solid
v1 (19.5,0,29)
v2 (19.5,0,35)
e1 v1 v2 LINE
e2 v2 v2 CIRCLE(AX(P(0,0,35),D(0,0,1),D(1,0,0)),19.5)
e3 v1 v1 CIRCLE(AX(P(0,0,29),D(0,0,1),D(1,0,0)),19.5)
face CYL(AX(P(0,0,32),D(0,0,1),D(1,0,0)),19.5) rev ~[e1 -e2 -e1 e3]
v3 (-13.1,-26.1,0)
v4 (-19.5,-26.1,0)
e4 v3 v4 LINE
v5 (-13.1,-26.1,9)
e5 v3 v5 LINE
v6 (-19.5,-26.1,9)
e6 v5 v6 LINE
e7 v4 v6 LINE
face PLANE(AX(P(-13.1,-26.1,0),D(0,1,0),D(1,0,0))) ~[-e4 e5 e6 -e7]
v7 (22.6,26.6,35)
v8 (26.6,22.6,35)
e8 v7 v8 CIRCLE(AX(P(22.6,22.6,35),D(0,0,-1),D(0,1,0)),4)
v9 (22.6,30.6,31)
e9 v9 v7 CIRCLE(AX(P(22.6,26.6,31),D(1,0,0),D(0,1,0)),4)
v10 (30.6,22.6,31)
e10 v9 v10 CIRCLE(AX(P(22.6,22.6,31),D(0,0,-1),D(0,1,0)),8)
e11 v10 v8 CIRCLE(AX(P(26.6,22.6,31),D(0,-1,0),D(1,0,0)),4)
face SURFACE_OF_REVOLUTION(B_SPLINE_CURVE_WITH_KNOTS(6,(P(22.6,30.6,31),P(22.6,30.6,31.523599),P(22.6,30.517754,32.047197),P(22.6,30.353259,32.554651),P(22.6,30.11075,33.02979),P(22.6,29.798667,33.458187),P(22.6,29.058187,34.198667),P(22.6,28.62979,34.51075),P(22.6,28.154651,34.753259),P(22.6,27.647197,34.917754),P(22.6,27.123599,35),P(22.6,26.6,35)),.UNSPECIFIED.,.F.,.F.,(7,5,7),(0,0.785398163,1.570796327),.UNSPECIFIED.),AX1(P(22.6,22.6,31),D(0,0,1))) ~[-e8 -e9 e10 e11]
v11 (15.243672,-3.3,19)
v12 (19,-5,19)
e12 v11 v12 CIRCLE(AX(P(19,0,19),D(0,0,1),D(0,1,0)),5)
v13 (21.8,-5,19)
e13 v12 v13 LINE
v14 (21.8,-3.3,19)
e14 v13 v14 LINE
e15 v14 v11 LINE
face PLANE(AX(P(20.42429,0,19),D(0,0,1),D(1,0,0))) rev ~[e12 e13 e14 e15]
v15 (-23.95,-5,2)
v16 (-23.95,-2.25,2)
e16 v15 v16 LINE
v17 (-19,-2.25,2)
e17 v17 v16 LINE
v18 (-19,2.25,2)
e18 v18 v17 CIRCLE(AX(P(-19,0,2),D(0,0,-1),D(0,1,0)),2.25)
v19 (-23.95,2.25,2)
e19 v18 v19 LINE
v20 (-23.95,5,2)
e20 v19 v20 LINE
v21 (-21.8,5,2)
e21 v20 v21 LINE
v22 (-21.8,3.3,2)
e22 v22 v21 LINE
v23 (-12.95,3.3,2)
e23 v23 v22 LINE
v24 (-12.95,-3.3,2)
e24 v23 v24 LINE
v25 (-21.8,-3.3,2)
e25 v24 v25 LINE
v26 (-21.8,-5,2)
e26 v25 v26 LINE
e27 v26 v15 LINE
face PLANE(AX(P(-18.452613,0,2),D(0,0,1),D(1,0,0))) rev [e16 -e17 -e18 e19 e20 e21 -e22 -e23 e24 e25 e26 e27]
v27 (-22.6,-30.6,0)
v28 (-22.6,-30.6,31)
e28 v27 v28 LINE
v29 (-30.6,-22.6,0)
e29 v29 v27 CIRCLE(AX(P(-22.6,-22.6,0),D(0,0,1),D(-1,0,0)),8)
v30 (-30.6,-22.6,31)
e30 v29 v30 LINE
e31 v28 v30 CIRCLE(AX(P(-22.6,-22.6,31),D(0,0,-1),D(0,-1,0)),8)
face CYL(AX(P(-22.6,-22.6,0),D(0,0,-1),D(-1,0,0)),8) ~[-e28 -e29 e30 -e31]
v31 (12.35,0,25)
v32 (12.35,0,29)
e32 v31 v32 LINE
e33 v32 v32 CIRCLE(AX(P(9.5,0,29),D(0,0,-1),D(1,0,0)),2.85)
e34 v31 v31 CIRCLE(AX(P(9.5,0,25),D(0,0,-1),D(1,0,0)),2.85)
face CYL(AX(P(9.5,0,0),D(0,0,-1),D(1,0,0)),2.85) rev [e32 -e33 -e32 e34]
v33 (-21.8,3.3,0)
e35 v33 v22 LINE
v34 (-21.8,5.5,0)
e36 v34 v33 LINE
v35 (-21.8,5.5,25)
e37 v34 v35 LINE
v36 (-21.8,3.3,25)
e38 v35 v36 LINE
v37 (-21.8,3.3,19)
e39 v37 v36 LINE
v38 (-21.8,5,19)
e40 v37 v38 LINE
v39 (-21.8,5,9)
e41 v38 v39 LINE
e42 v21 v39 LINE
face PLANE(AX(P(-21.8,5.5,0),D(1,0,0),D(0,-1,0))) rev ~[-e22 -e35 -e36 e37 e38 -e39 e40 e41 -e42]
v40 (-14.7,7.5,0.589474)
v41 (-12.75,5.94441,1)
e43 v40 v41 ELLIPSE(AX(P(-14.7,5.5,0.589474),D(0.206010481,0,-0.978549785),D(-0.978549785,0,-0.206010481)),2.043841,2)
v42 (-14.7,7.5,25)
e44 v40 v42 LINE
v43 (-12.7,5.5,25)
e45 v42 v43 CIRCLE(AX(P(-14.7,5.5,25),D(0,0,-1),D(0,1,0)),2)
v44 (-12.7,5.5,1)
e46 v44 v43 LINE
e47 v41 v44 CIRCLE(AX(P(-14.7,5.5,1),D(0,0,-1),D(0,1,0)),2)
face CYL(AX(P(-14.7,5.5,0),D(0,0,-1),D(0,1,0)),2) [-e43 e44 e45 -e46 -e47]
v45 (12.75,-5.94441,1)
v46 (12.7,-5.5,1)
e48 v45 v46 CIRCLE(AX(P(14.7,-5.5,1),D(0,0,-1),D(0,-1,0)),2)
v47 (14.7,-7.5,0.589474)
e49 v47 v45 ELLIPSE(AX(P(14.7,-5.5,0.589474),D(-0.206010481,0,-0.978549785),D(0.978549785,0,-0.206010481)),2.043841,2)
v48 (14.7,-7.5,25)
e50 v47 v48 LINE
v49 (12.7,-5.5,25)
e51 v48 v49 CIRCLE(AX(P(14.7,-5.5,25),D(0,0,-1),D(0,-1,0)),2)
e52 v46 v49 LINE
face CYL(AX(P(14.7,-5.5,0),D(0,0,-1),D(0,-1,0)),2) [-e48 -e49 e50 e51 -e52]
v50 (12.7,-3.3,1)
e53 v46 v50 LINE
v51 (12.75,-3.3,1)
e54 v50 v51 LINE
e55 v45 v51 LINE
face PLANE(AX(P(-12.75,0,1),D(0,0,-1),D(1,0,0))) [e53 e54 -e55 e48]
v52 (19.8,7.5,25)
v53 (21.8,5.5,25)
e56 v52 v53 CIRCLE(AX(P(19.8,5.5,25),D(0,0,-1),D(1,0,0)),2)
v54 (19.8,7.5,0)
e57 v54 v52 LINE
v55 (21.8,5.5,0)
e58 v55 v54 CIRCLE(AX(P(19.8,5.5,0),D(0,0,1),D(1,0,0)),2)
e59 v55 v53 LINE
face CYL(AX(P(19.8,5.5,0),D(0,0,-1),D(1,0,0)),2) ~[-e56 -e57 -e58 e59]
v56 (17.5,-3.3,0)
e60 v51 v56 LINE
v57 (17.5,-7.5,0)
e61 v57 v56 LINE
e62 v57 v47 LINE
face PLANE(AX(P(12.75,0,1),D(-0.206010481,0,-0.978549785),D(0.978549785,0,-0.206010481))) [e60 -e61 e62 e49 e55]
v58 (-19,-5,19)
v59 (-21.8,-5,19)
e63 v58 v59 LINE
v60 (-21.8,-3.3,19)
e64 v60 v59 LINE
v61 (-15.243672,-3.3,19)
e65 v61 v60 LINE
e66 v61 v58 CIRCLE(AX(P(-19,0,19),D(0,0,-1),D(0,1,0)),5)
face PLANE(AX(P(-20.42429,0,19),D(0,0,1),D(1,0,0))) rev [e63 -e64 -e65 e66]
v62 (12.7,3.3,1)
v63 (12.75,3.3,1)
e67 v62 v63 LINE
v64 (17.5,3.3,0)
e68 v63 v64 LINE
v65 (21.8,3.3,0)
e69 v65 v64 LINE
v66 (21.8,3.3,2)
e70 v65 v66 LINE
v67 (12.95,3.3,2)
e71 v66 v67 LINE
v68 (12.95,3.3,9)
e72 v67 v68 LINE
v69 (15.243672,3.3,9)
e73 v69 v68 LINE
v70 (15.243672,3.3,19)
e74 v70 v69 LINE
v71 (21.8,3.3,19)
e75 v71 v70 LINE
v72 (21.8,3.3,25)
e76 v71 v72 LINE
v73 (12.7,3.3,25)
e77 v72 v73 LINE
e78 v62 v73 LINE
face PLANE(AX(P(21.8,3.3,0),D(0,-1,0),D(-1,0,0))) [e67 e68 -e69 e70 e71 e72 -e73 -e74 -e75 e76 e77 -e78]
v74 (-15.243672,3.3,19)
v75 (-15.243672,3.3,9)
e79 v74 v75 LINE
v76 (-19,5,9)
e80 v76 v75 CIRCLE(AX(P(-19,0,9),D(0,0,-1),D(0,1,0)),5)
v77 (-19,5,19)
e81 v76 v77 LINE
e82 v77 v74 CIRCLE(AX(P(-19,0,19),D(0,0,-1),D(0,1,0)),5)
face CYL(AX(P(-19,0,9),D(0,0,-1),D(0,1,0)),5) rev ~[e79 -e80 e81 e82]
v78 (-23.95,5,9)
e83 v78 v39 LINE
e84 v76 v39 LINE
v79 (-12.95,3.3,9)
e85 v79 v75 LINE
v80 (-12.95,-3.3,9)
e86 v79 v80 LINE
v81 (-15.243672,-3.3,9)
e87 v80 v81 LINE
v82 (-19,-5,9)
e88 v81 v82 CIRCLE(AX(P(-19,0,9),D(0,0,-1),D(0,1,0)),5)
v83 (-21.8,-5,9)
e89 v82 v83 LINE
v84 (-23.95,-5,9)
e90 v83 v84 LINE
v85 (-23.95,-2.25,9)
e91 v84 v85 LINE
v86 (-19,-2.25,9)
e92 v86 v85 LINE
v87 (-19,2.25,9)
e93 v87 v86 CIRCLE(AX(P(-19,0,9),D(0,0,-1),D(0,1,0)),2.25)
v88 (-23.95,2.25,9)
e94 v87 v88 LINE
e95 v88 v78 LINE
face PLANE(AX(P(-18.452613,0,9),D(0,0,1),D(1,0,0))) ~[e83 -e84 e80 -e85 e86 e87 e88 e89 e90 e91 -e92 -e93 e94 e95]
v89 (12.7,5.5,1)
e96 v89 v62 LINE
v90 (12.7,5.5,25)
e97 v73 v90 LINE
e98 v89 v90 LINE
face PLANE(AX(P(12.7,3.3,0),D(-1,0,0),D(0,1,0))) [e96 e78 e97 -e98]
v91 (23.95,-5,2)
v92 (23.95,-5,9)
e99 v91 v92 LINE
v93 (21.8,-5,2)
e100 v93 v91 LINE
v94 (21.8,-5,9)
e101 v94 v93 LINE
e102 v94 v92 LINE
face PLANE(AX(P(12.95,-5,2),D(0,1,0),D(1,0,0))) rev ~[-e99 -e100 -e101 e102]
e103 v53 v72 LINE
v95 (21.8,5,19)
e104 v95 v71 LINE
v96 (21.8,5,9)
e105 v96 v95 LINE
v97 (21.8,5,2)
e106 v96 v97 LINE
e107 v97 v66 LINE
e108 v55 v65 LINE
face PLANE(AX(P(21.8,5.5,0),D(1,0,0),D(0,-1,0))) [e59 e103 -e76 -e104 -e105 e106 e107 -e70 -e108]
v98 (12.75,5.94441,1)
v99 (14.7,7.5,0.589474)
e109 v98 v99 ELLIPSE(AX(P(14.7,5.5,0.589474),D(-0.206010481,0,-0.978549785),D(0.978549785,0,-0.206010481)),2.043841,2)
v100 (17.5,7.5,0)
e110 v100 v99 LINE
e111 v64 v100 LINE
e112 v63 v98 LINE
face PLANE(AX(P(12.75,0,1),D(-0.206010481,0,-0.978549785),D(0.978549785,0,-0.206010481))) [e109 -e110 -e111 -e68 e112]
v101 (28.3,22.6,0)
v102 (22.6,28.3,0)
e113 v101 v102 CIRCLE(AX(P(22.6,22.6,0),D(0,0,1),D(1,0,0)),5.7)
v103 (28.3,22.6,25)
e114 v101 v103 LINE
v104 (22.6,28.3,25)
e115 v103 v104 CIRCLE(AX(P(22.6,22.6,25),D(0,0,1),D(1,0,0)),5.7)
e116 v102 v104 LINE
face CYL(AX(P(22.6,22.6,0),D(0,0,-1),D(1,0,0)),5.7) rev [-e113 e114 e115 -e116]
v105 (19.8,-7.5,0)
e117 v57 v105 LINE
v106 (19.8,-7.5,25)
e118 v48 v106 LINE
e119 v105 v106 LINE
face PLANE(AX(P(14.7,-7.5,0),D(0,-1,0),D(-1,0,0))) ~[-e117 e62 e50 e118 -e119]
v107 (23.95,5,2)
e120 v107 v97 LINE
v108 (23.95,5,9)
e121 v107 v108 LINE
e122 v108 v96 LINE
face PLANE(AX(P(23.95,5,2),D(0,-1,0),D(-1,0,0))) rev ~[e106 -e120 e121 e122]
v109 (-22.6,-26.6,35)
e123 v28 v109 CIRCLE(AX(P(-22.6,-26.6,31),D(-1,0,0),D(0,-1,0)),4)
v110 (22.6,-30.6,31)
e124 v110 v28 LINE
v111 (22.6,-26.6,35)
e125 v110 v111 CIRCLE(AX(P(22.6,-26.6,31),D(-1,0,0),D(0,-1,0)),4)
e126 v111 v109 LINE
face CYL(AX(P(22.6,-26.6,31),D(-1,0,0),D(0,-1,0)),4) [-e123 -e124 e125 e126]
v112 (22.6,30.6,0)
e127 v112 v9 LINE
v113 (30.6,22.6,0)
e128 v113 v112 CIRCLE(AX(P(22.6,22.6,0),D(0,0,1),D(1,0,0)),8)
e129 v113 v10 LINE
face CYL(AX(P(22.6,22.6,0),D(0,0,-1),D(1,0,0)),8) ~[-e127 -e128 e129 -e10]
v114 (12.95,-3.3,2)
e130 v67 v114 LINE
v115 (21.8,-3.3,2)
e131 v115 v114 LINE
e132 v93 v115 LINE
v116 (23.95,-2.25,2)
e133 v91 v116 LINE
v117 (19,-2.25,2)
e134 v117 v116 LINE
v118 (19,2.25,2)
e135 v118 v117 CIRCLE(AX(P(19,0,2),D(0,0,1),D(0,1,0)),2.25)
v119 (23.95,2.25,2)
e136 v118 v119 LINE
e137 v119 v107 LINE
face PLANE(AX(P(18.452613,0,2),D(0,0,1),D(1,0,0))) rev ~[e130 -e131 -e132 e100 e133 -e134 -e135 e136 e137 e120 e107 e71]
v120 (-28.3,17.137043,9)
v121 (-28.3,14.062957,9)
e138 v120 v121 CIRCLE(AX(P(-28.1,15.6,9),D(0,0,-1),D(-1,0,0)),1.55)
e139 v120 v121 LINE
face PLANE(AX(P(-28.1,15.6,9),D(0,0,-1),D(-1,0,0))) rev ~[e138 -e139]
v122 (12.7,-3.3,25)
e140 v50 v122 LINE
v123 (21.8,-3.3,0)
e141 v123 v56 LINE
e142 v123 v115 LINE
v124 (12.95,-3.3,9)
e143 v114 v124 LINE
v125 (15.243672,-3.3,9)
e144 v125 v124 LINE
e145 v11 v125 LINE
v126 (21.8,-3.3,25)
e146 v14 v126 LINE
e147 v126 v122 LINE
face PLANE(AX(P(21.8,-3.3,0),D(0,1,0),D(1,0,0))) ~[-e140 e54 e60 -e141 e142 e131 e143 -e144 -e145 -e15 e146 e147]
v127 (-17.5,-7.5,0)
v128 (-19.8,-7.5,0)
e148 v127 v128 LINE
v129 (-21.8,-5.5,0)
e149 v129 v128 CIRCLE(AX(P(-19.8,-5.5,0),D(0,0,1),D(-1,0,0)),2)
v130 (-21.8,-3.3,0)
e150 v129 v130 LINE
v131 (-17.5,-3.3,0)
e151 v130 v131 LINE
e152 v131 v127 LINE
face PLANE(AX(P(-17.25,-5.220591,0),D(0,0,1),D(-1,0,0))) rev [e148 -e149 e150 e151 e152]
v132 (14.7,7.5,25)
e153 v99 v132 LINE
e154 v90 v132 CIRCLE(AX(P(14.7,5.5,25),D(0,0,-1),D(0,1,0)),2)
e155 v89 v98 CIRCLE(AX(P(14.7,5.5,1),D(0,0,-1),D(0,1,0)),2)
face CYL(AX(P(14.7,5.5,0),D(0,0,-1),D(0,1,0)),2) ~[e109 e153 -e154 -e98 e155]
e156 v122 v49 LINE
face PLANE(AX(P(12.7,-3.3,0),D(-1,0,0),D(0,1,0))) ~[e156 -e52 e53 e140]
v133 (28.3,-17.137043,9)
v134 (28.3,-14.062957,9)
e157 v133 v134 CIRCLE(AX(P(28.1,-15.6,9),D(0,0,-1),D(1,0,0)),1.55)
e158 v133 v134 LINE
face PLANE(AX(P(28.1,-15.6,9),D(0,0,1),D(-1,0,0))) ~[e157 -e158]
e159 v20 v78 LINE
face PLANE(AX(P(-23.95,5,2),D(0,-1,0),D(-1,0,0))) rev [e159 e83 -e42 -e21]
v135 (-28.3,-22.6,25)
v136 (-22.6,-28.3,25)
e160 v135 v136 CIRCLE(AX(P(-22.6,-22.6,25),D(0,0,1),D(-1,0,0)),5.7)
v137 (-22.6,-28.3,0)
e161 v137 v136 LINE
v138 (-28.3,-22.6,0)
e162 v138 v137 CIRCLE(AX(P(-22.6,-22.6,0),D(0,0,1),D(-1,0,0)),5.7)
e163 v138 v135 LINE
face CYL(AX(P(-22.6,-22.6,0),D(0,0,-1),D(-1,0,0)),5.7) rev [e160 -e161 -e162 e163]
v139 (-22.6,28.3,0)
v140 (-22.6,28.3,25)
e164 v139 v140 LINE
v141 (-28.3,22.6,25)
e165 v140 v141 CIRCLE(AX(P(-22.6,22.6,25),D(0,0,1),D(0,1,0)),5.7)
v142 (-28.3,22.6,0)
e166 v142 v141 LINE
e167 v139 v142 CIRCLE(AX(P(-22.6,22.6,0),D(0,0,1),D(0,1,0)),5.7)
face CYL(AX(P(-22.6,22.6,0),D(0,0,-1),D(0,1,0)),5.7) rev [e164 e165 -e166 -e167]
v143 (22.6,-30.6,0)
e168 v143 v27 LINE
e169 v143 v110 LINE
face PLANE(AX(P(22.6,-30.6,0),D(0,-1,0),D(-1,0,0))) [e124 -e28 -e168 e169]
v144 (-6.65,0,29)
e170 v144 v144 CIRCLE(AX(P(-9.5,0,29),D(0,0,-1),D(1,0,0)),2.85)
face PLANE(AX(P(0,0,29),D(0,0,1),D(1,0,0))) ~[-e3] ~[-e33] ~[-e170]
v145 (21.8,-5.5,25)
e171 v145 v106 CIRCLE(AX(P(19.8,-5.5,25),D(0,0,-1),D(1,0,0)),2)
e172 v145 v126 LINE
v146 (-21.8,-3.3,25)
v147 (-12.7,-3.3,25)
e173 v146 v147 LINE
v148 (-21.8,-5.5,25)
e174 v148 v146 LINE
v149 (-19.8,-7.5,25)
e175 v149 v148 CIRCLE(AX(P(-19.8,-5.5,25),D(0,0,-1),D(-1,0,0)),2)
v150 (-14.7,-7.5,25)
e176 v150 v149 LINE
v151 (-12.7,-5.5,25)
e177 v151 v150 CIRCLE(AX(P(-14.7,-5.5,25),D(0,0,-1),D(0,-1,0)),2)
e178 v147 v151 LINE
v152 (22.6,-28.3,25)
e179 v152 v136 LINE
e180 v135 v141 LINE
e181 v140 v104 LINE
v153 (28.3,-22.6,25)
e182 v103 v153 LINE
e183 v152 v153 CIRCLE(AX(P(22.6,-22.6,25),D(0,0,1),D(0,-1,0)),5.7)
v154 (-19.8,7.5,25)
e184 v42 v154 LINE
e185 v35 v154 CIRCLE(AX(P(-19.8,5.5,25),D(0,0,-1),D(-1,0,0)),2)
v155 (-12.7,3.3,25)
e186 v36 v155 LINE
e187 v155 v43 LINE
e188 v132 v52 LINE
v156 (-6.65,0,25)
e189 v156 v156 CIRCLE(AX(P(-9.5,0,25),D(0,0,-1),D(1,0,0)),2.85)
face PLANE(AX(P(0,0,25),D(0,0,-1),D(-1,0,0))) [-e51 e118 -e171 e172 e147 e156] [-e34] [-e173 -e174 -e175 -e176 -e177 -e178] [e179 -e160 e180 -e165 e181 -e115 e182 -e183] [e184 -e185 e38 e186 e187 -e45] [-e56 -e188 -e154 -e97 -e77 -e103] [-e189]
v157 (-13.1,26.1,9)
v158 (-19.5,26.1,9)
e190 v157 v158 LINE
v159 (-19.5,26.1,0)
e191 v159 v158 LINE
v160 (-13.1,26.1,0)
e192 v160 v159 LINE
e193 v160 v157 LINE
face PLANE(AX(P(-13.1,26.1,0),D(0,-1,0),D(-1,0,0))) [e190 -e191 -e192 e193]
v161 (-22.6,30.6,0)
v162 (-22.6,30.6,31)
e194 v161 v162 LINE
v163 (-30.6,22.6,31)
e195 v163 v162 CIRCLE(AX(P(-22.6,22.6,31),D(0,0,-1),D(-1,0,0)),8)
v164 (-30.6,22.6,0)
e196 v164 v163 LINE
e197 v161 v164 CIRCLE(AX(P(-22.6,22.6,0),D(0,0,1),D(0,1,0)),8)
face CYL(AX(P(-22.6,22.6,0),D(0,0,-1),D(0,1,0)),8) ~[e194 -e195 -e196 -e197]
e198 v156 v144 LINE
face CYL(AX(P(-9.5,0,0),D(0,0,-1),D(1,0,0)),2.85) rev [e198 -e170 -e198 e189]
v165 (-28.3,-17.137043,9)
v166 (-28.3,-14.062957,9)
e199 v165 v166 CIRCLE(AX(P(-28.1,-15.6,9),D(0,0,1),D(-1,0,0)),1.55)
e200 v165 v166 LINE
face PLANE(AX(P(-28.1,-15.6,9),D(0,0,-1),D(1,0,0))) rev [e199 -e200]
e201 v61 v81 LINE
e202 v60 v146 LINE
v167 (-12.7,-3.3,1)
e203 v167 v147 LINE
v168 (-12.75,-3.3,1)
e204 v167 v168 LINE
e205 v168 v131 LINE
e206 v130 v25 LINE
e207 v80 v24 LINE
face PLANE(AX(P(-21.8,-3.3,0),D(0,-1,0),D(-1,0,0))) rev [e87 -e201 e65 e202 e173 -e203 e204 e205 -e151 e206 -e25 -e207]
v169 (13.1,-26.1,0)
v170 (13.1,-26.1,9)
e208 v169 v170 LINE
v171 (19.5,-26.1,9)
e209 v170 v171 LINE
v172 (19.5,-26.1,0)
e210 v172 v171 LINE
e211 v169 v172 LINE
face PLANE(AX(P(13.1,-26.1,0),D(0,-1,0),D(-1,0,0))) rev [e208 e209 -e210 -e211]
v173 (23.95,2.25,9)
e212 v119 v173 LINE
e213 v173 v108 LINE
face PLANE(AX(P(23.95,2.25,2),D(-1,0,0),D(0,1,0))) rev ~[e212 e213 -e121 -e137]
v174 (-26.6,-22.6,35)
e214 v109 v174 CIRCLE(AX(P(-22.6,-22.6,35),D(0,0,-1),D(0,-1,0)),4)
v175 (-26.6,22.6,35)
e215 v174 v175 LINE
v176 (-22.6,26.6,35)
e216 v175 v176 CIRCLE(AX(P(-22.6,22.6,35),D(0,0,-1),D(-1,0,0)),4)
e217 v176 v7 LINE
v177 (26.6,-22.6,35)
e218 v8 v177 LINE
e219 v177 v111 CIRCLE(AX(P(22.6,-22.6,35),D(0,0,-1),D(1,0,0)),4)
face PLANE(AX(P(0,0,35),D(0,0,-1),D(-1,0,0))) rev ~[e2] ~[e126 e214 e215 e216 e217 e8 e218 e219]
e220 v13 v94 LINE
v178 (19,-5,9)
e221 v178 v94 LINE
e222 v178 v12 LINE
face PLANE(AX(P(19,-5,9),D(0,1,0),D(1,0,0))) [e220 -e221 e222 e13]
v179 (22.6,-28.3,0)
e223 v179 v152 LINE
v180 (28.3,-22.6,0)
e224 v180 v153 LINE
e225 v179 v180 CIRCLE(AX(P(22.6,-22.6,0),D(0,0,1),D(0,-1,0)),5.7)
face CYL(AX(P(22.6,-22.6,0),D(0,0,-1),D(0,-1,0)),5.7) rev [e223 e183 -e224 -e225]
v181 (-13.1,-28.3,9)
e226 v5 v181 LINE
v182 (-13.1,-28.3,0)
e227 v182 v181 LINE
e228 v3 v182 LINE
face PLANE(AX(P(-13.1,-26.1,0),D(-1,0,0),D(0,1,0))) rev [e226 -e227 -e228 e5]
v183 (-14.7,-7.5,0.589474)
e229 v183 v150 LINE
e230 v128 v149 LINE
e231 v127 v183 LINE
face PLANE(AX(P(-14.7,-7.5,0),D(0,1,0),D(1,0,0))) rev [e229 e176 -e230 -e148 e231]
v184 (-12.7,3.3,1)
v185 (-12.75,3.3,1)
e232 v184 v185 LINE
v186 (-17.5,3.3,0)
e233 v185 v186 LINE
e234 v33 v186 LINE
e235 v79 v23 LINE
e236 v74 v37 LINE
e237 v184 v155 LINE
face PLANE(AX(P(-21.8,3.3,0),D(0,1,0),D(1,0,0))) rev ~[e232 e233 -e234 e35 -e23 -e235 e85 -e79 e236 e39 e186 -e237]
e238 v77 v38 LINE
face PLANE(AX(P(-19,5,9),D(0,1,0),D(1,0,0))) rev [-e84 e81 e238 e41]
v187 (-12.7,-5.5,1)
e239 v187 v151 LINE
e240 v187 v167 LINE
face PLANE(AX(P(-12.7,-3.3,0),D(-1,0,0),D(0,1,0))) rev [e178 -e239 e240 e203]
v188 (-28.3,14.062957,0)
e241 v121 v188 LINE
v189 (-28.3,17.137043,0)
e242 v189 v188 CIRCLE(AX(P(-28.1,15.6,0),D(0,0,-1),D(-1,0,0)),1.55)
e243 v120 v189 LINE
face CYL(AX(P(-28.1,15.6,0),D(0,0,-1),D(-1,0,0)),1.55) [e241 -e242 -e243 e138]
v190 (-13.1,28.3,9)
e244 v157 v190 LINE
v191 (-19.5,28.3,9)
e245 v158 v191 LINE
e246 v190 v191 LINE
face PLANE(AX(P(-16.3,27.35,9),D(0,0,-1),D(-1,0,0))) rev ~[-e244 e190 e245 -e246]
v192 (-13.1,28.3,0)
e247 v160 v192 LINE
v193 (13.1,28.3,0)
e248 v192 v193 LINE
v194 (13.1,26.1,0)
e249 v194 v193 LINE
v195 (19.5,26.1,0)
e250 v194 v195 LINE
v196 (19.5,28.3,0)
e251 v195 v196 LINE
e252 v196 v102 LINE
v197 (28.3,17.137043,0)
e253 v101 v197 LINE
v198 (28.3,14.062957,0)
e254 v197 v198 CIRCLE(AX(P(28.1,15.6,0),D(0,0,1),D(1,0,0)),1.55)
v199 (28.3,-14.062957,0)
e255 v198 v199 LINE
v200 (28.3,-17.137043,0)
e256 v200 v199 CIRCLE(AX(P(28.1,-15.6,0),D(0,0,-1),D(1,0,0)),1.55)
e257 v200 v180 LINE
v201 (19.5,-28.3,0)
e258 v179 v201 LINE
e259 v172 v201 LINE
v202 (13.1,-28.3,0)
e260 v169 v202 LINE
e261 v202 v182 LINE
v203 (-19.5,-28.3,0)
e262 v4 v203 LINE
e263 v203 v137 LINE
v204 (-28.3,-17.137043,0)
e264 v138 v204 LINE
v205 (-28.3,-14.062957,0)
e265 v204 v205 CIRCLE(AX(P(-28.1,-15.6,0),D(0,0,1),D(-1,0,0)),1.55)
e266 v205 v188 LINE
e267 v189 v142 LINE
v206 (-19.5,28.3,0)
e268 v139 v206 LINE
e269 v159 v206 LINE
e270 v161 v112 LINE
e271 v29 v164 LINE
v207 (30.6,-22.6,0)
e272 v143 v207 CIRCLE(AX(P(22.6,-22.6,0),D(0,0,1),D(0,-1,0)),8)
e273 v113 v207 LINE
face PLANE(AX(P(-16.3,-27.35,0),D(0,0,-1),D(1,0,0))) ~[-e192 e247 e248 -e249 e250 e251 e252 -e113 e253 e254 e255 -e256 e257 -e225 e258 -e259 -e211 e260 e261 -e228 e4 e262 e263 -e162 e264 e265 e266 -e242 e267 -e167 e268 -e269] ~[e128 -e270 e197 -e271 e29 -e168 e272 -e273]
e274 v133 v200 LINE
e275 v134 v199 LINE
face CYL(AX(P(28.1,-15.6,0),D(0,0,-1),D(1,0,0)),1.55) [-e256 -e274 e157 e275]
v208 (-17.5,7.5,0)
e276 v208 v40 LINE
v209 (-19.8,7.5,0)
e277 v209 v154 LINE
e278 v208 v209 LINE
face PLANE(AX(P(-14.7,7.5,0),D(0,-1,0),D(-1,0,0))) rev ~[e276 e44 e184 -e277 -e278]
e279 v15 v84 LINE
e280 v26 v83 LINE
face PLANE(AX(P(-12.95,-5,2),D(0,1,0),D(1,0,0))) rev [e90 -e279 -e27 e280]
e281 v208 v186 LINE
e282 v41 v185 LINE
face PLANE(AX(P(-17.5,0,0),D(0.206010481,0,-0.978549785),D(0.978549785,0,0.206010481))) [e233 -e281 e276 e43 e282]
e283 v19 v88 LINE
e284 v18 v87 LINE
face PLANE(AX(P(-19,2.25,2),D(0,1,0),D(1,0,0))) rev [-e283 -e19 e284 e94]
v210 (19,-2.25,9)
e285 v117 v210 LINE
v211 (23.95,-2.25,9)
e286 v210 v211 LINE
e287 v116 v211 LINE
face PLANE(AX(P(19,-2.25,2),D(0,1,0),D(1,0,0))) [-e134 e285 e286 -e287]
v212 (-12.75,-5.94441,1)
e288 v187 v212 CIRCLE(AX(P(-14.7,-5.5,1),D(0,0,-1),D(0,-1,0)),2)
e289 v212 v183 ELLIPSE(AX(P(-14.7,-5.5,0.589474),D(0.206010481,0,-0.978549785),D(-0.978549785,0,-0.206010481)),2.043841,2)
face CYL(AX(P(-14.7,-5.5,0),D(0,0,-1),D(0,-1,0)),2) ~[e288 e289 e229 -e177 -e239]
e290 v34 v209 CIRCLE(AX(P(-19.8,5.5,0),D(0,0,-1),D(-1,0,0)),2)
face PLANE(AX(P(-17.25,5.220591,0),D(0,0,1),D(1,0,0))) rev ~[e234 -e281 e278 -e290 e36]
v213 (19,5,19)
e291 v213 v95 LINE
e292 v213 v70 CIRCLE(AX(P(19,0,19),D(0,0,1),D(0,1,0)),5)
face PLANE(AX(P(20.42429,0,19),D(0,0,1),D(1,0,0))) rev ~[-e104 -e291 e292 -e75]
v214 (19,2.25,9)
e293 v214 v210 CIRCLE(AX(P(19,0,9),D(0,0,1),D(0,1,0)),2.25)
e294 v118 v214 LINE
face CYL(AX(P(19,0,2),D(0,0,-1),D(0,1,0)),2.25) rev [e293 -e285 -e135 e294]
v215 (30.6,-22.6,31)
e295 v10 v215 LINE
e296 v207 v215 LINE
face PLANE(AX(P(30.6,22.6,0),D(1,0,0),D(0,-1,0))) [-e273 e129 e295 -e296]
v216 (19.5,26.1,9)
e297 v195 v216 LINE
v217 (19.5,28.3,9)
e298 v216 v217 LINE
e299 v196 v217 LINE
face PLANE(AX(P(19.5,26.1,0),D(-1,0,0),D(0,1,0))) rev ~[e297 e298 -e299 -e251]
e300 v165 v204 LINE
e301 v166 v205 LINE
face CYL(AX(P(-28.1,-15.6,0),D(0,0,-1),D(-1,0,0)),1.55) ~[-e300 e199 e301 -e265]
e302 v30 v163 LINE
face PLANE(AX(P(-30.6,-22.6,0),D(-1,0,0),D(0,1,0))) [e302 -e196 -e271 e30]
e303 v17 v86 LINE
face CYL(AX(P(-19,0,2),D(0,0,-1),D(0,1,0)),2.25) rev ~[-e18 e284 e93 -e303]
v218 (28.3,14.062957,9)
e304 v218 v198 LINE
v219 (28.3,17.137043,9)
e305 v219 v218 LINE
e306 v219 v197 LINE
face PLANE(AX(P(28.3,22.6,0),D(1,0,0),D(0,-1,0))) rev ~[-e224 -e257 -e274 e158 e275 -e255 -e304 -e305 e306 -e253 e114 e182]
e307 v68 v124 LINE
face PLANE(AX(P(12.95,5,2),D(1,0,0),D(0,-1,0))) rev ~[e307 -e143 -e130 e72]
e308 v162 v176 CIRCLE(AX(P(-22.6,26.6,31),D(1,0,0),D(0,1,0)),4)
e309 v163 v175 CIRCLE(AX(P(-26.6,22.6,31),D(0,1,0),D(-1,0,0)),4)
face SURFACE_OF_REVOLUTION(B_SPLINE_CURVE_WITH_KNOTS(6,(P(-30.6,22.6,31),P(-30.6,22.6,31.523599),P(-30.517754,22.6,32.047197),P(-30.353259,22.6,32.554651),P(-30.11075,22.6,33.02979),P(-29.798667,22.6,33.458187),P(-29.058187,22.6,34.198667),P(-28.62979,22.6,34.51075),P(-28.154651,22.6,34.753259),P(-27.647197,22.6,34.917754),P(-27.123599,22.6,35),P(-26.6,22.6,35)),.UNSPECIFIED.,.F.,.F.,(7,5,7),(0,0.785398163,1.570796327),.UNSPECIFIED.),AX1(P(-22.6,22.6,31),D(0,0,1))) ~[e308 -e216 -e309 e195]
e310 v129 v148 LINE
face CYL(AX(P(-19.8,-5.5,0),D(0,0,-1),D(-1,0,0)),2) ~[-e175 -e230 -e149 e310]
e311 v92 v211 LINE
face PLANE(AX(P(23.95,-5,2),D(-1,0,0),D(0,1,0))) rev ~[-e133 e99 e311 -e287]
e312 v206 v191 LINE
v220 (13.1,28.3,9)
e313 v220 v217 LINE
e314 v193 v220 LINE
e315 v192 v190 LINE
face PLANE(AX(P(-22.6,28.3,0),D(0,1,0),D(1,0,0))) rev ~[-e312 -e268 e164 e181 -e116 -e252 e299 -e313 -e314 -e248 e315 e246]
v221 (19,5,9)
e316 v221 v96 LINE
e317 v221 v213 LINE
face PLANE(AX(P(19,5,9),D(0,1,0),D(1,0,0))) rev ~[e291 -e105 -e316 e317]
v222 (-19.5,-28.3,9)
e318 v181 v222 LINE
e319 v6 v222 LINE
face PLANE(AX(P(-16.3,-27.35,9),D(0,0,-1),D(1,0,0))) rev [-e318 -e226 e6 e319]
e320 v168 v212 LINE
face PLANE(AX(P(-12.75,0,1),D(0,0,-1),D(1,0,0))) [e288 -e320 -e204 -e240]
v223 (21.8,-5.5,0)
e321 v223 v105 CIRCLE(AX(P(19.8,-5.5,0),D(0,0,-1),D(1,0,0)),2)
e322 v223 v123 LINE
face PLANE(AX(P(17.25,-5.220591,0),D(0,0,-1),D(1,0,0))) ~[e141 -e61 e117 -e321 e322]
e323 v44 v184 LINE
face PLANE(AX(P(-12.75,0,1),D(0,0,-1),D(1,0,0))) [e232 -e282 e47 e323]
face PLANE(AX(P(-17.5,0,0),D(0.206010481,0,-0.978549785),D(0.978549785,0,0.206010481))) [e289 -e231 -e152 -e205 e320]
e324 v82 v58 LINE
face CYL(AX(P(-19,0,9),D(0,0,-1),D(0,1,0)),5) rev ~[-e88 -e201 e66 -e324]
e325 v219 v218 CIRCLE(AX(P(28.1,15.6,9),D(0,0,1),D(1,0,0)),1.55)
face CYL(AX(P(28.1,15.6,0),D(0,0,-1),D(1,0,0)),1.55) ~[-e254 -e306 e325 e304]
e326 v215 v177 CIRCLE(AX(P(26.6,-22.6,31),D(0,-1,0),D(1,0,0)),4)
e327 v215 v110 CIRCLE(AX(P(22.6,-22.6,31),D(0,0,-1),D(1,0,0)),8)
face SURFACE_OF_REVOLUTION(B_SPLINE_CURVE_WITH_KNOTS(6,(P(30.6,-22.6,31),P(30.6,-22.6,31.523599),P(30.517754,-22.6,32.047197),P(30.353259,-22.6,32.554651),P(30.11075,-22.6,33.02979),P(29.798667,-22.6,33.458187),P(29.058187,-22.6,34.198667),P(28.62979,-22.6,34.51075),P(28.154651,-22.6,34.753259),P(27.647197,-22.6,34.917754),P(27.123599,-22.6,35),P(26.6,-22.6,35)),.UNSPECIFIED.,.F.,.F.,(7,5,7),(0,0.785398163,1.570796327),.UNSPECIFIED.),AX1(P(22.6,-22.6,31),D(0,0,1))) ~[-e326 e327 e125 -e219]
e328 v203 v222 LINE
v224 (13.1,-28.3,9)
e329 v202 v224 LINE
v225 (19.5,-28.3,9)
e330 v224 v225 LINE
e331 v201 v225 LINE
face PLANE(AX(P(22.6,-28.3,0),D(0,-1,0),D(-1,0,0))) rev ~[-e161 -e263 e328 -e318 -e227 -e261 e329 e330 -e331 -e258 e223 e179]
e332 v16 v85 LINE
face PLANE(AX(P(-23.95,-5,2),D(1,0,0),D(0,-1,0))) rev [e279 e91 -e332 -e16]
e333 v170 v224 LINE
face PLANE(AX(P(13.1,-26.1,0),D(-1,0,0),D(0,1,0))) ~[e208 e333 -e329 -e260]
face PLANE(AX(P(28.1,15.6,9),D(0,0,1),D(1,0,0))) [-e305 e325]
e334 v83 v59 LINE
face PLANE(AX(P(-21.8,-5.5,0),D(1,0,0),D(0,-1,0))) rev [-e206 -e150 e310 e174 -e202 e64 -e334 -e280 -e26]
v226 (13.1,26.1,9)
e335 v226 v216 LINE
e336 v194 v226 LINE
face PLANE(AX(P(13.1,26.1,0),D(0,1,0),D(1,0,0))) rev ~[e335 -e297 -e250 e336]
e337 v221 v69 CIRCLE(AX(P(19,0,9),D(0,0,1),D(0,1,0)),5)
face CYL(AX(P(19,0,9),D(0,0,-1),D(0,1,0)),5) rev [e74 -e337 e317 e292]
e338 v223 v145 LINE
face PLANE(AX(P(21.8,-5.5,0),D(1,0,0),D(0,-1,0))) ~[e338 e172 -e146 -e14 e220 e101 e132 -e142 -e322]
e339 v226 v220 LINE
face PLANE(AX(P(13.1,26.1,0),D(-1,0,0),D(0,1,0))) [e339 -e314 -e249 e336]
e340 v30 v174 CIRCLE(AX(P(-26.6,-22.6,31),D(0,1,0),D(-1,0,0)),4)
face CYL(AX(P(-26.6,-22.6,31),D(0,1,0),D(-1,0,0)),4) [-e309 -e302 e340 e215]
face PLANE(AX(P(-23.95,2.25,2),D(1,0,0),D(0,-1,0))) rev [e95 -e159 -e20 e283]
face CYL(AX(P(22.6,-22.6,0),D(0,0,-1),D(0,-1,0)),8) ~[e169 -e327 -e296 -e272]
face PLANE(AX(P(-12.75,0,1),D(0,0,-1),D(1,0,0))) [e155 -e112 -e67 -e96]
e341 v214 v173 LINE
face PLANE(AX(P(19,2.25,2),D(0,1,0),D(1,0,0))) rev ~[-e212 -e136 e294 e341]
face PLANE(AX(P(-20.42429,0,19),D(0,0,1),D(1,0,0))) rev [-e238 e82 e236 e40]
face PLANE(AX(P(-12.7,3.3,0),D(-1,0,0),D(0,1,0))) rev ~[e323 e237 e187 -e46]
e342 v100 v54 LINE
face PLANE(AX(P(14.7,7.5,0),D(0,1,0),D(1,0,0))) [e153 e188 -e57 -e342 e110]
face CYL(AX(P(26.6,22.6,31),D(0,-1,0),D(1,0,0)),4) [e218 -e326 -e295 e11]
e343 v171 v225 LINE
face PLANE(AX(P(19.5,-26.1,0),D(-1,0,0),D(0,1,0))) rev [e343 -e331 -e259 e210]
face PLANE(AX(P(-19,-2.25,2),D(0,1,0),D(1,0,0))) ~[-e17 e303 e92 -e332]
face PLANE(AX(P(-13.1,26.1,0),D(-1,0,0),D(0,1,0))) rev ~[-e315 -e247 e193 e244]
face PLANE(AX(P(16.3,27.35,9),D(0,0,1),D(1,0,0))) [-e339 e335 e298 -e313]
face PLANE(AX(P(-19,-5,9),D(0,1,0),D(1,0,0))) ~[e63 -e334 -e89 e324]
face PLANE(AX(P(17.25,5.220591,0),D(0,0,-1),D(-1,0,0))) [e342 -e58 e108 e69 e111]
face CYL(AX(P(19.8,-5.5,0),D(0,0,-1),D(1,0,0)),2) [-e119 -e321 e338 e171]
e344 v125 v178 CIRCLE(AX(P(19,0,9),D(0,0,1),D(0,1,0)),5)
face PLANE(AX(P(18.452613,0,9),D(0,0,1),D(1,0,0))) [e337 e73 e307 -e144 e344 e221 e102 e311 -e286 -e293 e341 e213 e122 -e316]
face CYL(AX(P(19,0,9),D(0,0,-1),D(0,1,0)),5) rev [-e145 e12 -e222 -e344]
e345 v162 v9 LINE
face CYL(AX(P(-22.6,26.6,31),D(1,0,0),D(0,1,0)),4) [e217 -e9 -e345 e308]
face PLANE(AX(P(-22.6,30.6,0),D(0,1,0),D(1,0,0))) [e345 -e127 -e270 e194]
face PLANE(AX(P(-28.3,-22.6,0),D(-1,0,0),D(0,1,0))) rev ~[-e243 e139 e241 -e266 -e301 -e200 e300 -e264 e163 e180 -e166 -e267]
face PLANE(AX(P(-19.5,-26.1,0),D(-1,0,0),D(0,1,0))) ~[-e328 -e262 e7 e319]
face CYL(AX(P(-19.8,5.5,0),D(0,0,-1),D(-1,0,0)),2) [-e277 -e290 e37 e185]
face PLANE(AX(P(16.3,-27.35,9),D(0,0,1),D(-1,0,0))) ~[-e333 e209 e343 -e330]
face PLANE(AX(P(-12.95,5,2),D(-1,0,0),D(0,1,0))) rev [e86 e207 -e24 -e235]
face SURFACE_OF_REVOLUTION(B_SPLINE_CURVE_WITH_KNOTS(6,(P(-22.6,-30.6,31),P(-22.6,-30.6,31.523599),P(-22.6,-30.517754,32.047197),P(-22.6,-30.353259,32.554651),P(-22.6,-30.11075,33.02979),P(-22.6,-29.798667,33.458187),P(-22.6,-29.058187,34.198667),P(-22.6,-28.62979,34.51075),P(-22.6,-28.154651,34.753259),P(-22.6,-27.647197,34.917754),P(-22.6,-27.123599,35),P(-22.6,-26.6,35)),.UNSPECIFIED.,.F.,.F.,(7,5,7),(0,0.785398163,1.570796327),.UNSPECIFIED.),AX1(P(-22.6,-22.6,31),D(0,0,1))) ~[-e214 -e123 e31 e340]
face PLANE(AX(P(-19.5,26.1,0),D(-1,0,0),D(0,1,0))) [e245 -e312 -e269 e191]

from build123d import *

# Parameters (mm, degrees)
PAD009_DEPTH            = 35
POCKET002_DEPTH         = 25
SKETCH025_W             = 6.4
SKETCH025_H             = 2.5
PAD010_DEPTH            = 9
SKETCH026_R             = 1.55
PAD011_DEPTH            = 9
PAD012_DEPTH            = 33
SKETCH025_MIRRORED_2_W  = 6.4
SKETCH025_MIRRORED_2_H  = 2.5
PAD010_MIRRORED_2_DEPTH = 9
PAD012_MIRRORED_2_DEPTH = 33
SKETCH026_MIRRORED_2_R  = 1.55
PAD011_MIRRORED_2_DEPTH = 9
POCKET003_DEPTH         = 10
PAD013_DEPTH            = 7
POCKET004_DEPTH         = 10
SKETCH031_W             = 19.5
SKETCH031_H             = 6
SKETCH032_R             = 2.85
POCKET005_DEPTH         = 0.001
POCKET005_DEPTH_BACK    = 35.001
FILLET001_R             = 4


with BuildPart() as part:
    # Sketch023 → Pad009 (new body)
    with BuildSketch(Plane.XY):
        with BuildLine():
            Line((-22.6, 30.6), (22.6, 30.6))
            ThreePointArc((30.6, 22.6), (28.2568542495, 28.2568542495), (22.6, 30.6))
            Line((30.6, 22.6), (30.6, -22.6))
            ThreePointArc((22.6, -30.6), (28.2568542495, -28.2568542495), (30.6, -22.6))
            Line((22.6, -30.6), (-22.6, -30.6))
            ThreePointArc((-30.6, -22.6), (-28.2568542495, -28.2568542495), (-22.6, -30.6))
            Line((-30.6, -22.6), (-30.6, 22.6))
            ThreePointArc((-22.6, 30.6), (-28.2568542495, 28.2568542495), (-30.6, 22.6))
        make_face()
    extrude(amount=PAD009_DEPTH)

    # Sketch024 → Pocket002 (cut)
    with BuildSketch(Plane.XY):
        with BuildLine():
            Line((-22.6, 28.3), (22.6, 28.3))
            ThreePointArc((28.3, 22.6), (26.6305086528, 26.6305086528), (22.6, 28.3))
            Line((28.3, 22.6), (28.3, -22.6))
            ThreePointArc((22.6, -28.3), (26.6305086528, -26.6305086528), (28.3, -22.6))
            Line((22.6, -28.3), (-22.6, -28.3))
            ThreePointArc((-28.3, -22.6), (-26.6305086528, -26.6305086528), (-22.6, -28.3))
            Line((-28.3, -22.6), (-28.3, 22.6))
            ThreePointArc((-22.6, 28.3), (-26.6305086528, 26.6305086528), (-28.3, 22.6))
        make_face()
    extrude(amount=POCKET002_DEPTH, mode=Mode.SUBTRACT)

    # Sketch025 → Pad010 (join)
    with BuildSketch(Plane.XY):
        with Locations((16.3, 27.35)):
            Rectangle(SKETCH025_W, SKETCH025_H)
    pad010 = extrude(amount=PAD010_DEPTH)

    # Sketch026 → Pad011 (join)
    with BuildSketch(Plane.XY):
        with Locations((28.1, 15.6)):
            Circle(SKETCH026_R)
    pad011 = extrude(amount=PAD011_DEPTH)

    # Sketch027 → Pad012 (join)
    with BuildSketch(Plane.XY):
        with BuildLine():
            Line((21.8, 3.3), (12.7, 3.3))
            Line((12.7, 3.3), (12.7, 5.5))
            ThreePointArc((14.7, 7.5), (13.2857864376, 6.9142135624), (12.7, 5.5))
            Line((14.7, 7.5), (19.8, 7.5))
            ThreePointArc((21.8, 5.5), (21.2142135624, 6.9142135624), (19.8, 7.5))
            Line((21.8, 5.5), (21.8, 3.3))
        make_face()
    pad012 = extrude(amount=PAD012_DEPTH)

    # Sketch025 Mirrored 2 → Pad010 Mirrored 2 (add)
    with BuildSketch(Plane(origin=(0, 0, 0), x_dir=(-1, 0, 0), z_dir=(0, 0, -1))):
        with Locations((16.3, 27.35)):
            Rectangle(SKETCH025_MIRRORED_2_W, SKETCH025_MIRRORED_2_H)
    pad010_mirrored_2 = extrude(amount=-PAD010_MIRRORED_2_DEPTH)

    # Sketch027 Mirrored 2 → Pad012 Mirrored 2 (add)
    with BuildSketch(Plane(origin=(0, 0, 0), x_dir=(-1, 0, 0), z_dir=(0, 0, -1))):
        with BuildLine():
            Line((21.8, 3.3), (12.7, 3.3))
            Line((12.7, 3.3), (12.7, 5.5))
            ThreePointArc((14.7, 7.5), (13.2857864376, 6.9142135624), (12.7, 5.5))
            Line((14.7, 7.5), (19.8, 7.5))
            ThreePointArc((21.8, 5.5), (21.2142135624, 6.9142135624), (19.8, 7.5))
            Line((21.8, 5.5), (21.8, 3.3))
        make_face()
    pad012_mirrored_2 = extrude(amount=-PAD012_MIRRORED_2_DEPTH)

    # Sketch026 Mirrored 2 → Pad011 Mirrored 2 (add)
    with BuildSketch(Plane(origin=(0, 0, 0), x_dir=(-1, 0, 0), z_dir=(0, 0, -1))):
        with Locations((28.1, 15.6)):
            Circle(SKETCH026_MIRRORED_2_R)
    pad011_mirrored_2 = extrude(amount=-PAD011_MIRRORED_2_DEPTH)

    # Mirrored001: Pad010, Pad012, Pad011, Pad010 Mirrored 2, Pad012 Mirrored 2, Pad011 Mirrored 2 across XZ
    add(pad010.mirror(Plane.XZ))
    add(pad012.mirror(Plane.XZ))
    add(pad011.mirror(Plane.XZ))
    add(pad010_mirrored_2.mirror(Plane.XZ))
    add(pad012_mirrored_2.mirror(Plane.XZ))
    add(pad011_mirrored_2.mirror(Plane.XZ))

    # Sketch028 → Pocket003 (cut, symmetric)
    with BuildSketch(Plane.XZ):
        Polygon((-12.75, 1), (12.75, 1), (17.5, 0), (-17.5, 0), align=None)
    extrude(amount=POCKET003_DEPTH, both=True, mode=Mode.SUBTRACT)

    # Sketch029 → Pad013 (join)
    with BuildSketch(Plane.XY.offset(2)):
        with BuildLine():
            Line((23.95, 5), (12.95, 5))
            Line((12.95, 5), (12.95, -5))
            Line((12.95, -5), (23.95, -5))
            Line((23.95, -5), (23.95, -2.25))
            Line((19, -2.25), (23.95, -2.25))
            ThreePointArc((19, 2.25), (16.75, 0), (19, -2.25))
            Line((19, 2.25), (23.95, 2.25))
            Line((23.95, 2.25), (23.95, 5))
        make_face()
    pad013 = extrude(amount=PAD013_DEPTH)

    # Sketch030 → Pocket004 (cut)
    with BuildSketch(Plane.XY.offset(9)):
        with BuildLine():
            ThreePointArc((19, 5), (14, 0), (19, -5))
            Line((19, -5), (25, -5))
            Line((25, 5), (25, -5))
            Line((19, 5), (25, 5))
        make_face()
    pocket004 = extrude(amount=POCKET004_DEPTH, mode=Mode.SUBTRACT)

    # Mirrored002: Pad013, Pocket004 across YZ
    add(pad013.mirror(Plane.YZ))
    add(pocket004.mirror(Plane.YZ), mode=Mode.SUBTRACT)

    # Sketch031 → Groove (revolve, cut)
    with BuildSketch(Plane.XZ):
        with Locations((9.75, 32)):
            Rectangle(SKETCH031_W, SKETCH031_H)
    revolve(axis=Axis((0, 0, 0), (0, 0, 1)), mode=Mode.SUBTRACT)

    # Sketch032 → Pocket005 (cut, two sides)
    with BuildSketch(Plane.XY) as pocket005_sk:
        with Locations((9.5, 0)):
            Circle(SKETCH032_R)
        with Locations((-9.5, 0)):
            Circle(SKETCH032_R)
    extrude(amount=-POCKET005_DEPTH, mode=Mode.SUBTRACT)
    extrude(pocket005_sk.sketch, amount=POCKET005_DEPTH_BACK, mode=Mode.SUBTRACT)

    # Fillet001
    fillet001_edges = [part.edges().sort_by_distance(p)[0] for p in [
        (0, -30.6, 35),
    ]]
    fillet(fillet001_edges, radius=FILLET001_R)


solid = part.part
